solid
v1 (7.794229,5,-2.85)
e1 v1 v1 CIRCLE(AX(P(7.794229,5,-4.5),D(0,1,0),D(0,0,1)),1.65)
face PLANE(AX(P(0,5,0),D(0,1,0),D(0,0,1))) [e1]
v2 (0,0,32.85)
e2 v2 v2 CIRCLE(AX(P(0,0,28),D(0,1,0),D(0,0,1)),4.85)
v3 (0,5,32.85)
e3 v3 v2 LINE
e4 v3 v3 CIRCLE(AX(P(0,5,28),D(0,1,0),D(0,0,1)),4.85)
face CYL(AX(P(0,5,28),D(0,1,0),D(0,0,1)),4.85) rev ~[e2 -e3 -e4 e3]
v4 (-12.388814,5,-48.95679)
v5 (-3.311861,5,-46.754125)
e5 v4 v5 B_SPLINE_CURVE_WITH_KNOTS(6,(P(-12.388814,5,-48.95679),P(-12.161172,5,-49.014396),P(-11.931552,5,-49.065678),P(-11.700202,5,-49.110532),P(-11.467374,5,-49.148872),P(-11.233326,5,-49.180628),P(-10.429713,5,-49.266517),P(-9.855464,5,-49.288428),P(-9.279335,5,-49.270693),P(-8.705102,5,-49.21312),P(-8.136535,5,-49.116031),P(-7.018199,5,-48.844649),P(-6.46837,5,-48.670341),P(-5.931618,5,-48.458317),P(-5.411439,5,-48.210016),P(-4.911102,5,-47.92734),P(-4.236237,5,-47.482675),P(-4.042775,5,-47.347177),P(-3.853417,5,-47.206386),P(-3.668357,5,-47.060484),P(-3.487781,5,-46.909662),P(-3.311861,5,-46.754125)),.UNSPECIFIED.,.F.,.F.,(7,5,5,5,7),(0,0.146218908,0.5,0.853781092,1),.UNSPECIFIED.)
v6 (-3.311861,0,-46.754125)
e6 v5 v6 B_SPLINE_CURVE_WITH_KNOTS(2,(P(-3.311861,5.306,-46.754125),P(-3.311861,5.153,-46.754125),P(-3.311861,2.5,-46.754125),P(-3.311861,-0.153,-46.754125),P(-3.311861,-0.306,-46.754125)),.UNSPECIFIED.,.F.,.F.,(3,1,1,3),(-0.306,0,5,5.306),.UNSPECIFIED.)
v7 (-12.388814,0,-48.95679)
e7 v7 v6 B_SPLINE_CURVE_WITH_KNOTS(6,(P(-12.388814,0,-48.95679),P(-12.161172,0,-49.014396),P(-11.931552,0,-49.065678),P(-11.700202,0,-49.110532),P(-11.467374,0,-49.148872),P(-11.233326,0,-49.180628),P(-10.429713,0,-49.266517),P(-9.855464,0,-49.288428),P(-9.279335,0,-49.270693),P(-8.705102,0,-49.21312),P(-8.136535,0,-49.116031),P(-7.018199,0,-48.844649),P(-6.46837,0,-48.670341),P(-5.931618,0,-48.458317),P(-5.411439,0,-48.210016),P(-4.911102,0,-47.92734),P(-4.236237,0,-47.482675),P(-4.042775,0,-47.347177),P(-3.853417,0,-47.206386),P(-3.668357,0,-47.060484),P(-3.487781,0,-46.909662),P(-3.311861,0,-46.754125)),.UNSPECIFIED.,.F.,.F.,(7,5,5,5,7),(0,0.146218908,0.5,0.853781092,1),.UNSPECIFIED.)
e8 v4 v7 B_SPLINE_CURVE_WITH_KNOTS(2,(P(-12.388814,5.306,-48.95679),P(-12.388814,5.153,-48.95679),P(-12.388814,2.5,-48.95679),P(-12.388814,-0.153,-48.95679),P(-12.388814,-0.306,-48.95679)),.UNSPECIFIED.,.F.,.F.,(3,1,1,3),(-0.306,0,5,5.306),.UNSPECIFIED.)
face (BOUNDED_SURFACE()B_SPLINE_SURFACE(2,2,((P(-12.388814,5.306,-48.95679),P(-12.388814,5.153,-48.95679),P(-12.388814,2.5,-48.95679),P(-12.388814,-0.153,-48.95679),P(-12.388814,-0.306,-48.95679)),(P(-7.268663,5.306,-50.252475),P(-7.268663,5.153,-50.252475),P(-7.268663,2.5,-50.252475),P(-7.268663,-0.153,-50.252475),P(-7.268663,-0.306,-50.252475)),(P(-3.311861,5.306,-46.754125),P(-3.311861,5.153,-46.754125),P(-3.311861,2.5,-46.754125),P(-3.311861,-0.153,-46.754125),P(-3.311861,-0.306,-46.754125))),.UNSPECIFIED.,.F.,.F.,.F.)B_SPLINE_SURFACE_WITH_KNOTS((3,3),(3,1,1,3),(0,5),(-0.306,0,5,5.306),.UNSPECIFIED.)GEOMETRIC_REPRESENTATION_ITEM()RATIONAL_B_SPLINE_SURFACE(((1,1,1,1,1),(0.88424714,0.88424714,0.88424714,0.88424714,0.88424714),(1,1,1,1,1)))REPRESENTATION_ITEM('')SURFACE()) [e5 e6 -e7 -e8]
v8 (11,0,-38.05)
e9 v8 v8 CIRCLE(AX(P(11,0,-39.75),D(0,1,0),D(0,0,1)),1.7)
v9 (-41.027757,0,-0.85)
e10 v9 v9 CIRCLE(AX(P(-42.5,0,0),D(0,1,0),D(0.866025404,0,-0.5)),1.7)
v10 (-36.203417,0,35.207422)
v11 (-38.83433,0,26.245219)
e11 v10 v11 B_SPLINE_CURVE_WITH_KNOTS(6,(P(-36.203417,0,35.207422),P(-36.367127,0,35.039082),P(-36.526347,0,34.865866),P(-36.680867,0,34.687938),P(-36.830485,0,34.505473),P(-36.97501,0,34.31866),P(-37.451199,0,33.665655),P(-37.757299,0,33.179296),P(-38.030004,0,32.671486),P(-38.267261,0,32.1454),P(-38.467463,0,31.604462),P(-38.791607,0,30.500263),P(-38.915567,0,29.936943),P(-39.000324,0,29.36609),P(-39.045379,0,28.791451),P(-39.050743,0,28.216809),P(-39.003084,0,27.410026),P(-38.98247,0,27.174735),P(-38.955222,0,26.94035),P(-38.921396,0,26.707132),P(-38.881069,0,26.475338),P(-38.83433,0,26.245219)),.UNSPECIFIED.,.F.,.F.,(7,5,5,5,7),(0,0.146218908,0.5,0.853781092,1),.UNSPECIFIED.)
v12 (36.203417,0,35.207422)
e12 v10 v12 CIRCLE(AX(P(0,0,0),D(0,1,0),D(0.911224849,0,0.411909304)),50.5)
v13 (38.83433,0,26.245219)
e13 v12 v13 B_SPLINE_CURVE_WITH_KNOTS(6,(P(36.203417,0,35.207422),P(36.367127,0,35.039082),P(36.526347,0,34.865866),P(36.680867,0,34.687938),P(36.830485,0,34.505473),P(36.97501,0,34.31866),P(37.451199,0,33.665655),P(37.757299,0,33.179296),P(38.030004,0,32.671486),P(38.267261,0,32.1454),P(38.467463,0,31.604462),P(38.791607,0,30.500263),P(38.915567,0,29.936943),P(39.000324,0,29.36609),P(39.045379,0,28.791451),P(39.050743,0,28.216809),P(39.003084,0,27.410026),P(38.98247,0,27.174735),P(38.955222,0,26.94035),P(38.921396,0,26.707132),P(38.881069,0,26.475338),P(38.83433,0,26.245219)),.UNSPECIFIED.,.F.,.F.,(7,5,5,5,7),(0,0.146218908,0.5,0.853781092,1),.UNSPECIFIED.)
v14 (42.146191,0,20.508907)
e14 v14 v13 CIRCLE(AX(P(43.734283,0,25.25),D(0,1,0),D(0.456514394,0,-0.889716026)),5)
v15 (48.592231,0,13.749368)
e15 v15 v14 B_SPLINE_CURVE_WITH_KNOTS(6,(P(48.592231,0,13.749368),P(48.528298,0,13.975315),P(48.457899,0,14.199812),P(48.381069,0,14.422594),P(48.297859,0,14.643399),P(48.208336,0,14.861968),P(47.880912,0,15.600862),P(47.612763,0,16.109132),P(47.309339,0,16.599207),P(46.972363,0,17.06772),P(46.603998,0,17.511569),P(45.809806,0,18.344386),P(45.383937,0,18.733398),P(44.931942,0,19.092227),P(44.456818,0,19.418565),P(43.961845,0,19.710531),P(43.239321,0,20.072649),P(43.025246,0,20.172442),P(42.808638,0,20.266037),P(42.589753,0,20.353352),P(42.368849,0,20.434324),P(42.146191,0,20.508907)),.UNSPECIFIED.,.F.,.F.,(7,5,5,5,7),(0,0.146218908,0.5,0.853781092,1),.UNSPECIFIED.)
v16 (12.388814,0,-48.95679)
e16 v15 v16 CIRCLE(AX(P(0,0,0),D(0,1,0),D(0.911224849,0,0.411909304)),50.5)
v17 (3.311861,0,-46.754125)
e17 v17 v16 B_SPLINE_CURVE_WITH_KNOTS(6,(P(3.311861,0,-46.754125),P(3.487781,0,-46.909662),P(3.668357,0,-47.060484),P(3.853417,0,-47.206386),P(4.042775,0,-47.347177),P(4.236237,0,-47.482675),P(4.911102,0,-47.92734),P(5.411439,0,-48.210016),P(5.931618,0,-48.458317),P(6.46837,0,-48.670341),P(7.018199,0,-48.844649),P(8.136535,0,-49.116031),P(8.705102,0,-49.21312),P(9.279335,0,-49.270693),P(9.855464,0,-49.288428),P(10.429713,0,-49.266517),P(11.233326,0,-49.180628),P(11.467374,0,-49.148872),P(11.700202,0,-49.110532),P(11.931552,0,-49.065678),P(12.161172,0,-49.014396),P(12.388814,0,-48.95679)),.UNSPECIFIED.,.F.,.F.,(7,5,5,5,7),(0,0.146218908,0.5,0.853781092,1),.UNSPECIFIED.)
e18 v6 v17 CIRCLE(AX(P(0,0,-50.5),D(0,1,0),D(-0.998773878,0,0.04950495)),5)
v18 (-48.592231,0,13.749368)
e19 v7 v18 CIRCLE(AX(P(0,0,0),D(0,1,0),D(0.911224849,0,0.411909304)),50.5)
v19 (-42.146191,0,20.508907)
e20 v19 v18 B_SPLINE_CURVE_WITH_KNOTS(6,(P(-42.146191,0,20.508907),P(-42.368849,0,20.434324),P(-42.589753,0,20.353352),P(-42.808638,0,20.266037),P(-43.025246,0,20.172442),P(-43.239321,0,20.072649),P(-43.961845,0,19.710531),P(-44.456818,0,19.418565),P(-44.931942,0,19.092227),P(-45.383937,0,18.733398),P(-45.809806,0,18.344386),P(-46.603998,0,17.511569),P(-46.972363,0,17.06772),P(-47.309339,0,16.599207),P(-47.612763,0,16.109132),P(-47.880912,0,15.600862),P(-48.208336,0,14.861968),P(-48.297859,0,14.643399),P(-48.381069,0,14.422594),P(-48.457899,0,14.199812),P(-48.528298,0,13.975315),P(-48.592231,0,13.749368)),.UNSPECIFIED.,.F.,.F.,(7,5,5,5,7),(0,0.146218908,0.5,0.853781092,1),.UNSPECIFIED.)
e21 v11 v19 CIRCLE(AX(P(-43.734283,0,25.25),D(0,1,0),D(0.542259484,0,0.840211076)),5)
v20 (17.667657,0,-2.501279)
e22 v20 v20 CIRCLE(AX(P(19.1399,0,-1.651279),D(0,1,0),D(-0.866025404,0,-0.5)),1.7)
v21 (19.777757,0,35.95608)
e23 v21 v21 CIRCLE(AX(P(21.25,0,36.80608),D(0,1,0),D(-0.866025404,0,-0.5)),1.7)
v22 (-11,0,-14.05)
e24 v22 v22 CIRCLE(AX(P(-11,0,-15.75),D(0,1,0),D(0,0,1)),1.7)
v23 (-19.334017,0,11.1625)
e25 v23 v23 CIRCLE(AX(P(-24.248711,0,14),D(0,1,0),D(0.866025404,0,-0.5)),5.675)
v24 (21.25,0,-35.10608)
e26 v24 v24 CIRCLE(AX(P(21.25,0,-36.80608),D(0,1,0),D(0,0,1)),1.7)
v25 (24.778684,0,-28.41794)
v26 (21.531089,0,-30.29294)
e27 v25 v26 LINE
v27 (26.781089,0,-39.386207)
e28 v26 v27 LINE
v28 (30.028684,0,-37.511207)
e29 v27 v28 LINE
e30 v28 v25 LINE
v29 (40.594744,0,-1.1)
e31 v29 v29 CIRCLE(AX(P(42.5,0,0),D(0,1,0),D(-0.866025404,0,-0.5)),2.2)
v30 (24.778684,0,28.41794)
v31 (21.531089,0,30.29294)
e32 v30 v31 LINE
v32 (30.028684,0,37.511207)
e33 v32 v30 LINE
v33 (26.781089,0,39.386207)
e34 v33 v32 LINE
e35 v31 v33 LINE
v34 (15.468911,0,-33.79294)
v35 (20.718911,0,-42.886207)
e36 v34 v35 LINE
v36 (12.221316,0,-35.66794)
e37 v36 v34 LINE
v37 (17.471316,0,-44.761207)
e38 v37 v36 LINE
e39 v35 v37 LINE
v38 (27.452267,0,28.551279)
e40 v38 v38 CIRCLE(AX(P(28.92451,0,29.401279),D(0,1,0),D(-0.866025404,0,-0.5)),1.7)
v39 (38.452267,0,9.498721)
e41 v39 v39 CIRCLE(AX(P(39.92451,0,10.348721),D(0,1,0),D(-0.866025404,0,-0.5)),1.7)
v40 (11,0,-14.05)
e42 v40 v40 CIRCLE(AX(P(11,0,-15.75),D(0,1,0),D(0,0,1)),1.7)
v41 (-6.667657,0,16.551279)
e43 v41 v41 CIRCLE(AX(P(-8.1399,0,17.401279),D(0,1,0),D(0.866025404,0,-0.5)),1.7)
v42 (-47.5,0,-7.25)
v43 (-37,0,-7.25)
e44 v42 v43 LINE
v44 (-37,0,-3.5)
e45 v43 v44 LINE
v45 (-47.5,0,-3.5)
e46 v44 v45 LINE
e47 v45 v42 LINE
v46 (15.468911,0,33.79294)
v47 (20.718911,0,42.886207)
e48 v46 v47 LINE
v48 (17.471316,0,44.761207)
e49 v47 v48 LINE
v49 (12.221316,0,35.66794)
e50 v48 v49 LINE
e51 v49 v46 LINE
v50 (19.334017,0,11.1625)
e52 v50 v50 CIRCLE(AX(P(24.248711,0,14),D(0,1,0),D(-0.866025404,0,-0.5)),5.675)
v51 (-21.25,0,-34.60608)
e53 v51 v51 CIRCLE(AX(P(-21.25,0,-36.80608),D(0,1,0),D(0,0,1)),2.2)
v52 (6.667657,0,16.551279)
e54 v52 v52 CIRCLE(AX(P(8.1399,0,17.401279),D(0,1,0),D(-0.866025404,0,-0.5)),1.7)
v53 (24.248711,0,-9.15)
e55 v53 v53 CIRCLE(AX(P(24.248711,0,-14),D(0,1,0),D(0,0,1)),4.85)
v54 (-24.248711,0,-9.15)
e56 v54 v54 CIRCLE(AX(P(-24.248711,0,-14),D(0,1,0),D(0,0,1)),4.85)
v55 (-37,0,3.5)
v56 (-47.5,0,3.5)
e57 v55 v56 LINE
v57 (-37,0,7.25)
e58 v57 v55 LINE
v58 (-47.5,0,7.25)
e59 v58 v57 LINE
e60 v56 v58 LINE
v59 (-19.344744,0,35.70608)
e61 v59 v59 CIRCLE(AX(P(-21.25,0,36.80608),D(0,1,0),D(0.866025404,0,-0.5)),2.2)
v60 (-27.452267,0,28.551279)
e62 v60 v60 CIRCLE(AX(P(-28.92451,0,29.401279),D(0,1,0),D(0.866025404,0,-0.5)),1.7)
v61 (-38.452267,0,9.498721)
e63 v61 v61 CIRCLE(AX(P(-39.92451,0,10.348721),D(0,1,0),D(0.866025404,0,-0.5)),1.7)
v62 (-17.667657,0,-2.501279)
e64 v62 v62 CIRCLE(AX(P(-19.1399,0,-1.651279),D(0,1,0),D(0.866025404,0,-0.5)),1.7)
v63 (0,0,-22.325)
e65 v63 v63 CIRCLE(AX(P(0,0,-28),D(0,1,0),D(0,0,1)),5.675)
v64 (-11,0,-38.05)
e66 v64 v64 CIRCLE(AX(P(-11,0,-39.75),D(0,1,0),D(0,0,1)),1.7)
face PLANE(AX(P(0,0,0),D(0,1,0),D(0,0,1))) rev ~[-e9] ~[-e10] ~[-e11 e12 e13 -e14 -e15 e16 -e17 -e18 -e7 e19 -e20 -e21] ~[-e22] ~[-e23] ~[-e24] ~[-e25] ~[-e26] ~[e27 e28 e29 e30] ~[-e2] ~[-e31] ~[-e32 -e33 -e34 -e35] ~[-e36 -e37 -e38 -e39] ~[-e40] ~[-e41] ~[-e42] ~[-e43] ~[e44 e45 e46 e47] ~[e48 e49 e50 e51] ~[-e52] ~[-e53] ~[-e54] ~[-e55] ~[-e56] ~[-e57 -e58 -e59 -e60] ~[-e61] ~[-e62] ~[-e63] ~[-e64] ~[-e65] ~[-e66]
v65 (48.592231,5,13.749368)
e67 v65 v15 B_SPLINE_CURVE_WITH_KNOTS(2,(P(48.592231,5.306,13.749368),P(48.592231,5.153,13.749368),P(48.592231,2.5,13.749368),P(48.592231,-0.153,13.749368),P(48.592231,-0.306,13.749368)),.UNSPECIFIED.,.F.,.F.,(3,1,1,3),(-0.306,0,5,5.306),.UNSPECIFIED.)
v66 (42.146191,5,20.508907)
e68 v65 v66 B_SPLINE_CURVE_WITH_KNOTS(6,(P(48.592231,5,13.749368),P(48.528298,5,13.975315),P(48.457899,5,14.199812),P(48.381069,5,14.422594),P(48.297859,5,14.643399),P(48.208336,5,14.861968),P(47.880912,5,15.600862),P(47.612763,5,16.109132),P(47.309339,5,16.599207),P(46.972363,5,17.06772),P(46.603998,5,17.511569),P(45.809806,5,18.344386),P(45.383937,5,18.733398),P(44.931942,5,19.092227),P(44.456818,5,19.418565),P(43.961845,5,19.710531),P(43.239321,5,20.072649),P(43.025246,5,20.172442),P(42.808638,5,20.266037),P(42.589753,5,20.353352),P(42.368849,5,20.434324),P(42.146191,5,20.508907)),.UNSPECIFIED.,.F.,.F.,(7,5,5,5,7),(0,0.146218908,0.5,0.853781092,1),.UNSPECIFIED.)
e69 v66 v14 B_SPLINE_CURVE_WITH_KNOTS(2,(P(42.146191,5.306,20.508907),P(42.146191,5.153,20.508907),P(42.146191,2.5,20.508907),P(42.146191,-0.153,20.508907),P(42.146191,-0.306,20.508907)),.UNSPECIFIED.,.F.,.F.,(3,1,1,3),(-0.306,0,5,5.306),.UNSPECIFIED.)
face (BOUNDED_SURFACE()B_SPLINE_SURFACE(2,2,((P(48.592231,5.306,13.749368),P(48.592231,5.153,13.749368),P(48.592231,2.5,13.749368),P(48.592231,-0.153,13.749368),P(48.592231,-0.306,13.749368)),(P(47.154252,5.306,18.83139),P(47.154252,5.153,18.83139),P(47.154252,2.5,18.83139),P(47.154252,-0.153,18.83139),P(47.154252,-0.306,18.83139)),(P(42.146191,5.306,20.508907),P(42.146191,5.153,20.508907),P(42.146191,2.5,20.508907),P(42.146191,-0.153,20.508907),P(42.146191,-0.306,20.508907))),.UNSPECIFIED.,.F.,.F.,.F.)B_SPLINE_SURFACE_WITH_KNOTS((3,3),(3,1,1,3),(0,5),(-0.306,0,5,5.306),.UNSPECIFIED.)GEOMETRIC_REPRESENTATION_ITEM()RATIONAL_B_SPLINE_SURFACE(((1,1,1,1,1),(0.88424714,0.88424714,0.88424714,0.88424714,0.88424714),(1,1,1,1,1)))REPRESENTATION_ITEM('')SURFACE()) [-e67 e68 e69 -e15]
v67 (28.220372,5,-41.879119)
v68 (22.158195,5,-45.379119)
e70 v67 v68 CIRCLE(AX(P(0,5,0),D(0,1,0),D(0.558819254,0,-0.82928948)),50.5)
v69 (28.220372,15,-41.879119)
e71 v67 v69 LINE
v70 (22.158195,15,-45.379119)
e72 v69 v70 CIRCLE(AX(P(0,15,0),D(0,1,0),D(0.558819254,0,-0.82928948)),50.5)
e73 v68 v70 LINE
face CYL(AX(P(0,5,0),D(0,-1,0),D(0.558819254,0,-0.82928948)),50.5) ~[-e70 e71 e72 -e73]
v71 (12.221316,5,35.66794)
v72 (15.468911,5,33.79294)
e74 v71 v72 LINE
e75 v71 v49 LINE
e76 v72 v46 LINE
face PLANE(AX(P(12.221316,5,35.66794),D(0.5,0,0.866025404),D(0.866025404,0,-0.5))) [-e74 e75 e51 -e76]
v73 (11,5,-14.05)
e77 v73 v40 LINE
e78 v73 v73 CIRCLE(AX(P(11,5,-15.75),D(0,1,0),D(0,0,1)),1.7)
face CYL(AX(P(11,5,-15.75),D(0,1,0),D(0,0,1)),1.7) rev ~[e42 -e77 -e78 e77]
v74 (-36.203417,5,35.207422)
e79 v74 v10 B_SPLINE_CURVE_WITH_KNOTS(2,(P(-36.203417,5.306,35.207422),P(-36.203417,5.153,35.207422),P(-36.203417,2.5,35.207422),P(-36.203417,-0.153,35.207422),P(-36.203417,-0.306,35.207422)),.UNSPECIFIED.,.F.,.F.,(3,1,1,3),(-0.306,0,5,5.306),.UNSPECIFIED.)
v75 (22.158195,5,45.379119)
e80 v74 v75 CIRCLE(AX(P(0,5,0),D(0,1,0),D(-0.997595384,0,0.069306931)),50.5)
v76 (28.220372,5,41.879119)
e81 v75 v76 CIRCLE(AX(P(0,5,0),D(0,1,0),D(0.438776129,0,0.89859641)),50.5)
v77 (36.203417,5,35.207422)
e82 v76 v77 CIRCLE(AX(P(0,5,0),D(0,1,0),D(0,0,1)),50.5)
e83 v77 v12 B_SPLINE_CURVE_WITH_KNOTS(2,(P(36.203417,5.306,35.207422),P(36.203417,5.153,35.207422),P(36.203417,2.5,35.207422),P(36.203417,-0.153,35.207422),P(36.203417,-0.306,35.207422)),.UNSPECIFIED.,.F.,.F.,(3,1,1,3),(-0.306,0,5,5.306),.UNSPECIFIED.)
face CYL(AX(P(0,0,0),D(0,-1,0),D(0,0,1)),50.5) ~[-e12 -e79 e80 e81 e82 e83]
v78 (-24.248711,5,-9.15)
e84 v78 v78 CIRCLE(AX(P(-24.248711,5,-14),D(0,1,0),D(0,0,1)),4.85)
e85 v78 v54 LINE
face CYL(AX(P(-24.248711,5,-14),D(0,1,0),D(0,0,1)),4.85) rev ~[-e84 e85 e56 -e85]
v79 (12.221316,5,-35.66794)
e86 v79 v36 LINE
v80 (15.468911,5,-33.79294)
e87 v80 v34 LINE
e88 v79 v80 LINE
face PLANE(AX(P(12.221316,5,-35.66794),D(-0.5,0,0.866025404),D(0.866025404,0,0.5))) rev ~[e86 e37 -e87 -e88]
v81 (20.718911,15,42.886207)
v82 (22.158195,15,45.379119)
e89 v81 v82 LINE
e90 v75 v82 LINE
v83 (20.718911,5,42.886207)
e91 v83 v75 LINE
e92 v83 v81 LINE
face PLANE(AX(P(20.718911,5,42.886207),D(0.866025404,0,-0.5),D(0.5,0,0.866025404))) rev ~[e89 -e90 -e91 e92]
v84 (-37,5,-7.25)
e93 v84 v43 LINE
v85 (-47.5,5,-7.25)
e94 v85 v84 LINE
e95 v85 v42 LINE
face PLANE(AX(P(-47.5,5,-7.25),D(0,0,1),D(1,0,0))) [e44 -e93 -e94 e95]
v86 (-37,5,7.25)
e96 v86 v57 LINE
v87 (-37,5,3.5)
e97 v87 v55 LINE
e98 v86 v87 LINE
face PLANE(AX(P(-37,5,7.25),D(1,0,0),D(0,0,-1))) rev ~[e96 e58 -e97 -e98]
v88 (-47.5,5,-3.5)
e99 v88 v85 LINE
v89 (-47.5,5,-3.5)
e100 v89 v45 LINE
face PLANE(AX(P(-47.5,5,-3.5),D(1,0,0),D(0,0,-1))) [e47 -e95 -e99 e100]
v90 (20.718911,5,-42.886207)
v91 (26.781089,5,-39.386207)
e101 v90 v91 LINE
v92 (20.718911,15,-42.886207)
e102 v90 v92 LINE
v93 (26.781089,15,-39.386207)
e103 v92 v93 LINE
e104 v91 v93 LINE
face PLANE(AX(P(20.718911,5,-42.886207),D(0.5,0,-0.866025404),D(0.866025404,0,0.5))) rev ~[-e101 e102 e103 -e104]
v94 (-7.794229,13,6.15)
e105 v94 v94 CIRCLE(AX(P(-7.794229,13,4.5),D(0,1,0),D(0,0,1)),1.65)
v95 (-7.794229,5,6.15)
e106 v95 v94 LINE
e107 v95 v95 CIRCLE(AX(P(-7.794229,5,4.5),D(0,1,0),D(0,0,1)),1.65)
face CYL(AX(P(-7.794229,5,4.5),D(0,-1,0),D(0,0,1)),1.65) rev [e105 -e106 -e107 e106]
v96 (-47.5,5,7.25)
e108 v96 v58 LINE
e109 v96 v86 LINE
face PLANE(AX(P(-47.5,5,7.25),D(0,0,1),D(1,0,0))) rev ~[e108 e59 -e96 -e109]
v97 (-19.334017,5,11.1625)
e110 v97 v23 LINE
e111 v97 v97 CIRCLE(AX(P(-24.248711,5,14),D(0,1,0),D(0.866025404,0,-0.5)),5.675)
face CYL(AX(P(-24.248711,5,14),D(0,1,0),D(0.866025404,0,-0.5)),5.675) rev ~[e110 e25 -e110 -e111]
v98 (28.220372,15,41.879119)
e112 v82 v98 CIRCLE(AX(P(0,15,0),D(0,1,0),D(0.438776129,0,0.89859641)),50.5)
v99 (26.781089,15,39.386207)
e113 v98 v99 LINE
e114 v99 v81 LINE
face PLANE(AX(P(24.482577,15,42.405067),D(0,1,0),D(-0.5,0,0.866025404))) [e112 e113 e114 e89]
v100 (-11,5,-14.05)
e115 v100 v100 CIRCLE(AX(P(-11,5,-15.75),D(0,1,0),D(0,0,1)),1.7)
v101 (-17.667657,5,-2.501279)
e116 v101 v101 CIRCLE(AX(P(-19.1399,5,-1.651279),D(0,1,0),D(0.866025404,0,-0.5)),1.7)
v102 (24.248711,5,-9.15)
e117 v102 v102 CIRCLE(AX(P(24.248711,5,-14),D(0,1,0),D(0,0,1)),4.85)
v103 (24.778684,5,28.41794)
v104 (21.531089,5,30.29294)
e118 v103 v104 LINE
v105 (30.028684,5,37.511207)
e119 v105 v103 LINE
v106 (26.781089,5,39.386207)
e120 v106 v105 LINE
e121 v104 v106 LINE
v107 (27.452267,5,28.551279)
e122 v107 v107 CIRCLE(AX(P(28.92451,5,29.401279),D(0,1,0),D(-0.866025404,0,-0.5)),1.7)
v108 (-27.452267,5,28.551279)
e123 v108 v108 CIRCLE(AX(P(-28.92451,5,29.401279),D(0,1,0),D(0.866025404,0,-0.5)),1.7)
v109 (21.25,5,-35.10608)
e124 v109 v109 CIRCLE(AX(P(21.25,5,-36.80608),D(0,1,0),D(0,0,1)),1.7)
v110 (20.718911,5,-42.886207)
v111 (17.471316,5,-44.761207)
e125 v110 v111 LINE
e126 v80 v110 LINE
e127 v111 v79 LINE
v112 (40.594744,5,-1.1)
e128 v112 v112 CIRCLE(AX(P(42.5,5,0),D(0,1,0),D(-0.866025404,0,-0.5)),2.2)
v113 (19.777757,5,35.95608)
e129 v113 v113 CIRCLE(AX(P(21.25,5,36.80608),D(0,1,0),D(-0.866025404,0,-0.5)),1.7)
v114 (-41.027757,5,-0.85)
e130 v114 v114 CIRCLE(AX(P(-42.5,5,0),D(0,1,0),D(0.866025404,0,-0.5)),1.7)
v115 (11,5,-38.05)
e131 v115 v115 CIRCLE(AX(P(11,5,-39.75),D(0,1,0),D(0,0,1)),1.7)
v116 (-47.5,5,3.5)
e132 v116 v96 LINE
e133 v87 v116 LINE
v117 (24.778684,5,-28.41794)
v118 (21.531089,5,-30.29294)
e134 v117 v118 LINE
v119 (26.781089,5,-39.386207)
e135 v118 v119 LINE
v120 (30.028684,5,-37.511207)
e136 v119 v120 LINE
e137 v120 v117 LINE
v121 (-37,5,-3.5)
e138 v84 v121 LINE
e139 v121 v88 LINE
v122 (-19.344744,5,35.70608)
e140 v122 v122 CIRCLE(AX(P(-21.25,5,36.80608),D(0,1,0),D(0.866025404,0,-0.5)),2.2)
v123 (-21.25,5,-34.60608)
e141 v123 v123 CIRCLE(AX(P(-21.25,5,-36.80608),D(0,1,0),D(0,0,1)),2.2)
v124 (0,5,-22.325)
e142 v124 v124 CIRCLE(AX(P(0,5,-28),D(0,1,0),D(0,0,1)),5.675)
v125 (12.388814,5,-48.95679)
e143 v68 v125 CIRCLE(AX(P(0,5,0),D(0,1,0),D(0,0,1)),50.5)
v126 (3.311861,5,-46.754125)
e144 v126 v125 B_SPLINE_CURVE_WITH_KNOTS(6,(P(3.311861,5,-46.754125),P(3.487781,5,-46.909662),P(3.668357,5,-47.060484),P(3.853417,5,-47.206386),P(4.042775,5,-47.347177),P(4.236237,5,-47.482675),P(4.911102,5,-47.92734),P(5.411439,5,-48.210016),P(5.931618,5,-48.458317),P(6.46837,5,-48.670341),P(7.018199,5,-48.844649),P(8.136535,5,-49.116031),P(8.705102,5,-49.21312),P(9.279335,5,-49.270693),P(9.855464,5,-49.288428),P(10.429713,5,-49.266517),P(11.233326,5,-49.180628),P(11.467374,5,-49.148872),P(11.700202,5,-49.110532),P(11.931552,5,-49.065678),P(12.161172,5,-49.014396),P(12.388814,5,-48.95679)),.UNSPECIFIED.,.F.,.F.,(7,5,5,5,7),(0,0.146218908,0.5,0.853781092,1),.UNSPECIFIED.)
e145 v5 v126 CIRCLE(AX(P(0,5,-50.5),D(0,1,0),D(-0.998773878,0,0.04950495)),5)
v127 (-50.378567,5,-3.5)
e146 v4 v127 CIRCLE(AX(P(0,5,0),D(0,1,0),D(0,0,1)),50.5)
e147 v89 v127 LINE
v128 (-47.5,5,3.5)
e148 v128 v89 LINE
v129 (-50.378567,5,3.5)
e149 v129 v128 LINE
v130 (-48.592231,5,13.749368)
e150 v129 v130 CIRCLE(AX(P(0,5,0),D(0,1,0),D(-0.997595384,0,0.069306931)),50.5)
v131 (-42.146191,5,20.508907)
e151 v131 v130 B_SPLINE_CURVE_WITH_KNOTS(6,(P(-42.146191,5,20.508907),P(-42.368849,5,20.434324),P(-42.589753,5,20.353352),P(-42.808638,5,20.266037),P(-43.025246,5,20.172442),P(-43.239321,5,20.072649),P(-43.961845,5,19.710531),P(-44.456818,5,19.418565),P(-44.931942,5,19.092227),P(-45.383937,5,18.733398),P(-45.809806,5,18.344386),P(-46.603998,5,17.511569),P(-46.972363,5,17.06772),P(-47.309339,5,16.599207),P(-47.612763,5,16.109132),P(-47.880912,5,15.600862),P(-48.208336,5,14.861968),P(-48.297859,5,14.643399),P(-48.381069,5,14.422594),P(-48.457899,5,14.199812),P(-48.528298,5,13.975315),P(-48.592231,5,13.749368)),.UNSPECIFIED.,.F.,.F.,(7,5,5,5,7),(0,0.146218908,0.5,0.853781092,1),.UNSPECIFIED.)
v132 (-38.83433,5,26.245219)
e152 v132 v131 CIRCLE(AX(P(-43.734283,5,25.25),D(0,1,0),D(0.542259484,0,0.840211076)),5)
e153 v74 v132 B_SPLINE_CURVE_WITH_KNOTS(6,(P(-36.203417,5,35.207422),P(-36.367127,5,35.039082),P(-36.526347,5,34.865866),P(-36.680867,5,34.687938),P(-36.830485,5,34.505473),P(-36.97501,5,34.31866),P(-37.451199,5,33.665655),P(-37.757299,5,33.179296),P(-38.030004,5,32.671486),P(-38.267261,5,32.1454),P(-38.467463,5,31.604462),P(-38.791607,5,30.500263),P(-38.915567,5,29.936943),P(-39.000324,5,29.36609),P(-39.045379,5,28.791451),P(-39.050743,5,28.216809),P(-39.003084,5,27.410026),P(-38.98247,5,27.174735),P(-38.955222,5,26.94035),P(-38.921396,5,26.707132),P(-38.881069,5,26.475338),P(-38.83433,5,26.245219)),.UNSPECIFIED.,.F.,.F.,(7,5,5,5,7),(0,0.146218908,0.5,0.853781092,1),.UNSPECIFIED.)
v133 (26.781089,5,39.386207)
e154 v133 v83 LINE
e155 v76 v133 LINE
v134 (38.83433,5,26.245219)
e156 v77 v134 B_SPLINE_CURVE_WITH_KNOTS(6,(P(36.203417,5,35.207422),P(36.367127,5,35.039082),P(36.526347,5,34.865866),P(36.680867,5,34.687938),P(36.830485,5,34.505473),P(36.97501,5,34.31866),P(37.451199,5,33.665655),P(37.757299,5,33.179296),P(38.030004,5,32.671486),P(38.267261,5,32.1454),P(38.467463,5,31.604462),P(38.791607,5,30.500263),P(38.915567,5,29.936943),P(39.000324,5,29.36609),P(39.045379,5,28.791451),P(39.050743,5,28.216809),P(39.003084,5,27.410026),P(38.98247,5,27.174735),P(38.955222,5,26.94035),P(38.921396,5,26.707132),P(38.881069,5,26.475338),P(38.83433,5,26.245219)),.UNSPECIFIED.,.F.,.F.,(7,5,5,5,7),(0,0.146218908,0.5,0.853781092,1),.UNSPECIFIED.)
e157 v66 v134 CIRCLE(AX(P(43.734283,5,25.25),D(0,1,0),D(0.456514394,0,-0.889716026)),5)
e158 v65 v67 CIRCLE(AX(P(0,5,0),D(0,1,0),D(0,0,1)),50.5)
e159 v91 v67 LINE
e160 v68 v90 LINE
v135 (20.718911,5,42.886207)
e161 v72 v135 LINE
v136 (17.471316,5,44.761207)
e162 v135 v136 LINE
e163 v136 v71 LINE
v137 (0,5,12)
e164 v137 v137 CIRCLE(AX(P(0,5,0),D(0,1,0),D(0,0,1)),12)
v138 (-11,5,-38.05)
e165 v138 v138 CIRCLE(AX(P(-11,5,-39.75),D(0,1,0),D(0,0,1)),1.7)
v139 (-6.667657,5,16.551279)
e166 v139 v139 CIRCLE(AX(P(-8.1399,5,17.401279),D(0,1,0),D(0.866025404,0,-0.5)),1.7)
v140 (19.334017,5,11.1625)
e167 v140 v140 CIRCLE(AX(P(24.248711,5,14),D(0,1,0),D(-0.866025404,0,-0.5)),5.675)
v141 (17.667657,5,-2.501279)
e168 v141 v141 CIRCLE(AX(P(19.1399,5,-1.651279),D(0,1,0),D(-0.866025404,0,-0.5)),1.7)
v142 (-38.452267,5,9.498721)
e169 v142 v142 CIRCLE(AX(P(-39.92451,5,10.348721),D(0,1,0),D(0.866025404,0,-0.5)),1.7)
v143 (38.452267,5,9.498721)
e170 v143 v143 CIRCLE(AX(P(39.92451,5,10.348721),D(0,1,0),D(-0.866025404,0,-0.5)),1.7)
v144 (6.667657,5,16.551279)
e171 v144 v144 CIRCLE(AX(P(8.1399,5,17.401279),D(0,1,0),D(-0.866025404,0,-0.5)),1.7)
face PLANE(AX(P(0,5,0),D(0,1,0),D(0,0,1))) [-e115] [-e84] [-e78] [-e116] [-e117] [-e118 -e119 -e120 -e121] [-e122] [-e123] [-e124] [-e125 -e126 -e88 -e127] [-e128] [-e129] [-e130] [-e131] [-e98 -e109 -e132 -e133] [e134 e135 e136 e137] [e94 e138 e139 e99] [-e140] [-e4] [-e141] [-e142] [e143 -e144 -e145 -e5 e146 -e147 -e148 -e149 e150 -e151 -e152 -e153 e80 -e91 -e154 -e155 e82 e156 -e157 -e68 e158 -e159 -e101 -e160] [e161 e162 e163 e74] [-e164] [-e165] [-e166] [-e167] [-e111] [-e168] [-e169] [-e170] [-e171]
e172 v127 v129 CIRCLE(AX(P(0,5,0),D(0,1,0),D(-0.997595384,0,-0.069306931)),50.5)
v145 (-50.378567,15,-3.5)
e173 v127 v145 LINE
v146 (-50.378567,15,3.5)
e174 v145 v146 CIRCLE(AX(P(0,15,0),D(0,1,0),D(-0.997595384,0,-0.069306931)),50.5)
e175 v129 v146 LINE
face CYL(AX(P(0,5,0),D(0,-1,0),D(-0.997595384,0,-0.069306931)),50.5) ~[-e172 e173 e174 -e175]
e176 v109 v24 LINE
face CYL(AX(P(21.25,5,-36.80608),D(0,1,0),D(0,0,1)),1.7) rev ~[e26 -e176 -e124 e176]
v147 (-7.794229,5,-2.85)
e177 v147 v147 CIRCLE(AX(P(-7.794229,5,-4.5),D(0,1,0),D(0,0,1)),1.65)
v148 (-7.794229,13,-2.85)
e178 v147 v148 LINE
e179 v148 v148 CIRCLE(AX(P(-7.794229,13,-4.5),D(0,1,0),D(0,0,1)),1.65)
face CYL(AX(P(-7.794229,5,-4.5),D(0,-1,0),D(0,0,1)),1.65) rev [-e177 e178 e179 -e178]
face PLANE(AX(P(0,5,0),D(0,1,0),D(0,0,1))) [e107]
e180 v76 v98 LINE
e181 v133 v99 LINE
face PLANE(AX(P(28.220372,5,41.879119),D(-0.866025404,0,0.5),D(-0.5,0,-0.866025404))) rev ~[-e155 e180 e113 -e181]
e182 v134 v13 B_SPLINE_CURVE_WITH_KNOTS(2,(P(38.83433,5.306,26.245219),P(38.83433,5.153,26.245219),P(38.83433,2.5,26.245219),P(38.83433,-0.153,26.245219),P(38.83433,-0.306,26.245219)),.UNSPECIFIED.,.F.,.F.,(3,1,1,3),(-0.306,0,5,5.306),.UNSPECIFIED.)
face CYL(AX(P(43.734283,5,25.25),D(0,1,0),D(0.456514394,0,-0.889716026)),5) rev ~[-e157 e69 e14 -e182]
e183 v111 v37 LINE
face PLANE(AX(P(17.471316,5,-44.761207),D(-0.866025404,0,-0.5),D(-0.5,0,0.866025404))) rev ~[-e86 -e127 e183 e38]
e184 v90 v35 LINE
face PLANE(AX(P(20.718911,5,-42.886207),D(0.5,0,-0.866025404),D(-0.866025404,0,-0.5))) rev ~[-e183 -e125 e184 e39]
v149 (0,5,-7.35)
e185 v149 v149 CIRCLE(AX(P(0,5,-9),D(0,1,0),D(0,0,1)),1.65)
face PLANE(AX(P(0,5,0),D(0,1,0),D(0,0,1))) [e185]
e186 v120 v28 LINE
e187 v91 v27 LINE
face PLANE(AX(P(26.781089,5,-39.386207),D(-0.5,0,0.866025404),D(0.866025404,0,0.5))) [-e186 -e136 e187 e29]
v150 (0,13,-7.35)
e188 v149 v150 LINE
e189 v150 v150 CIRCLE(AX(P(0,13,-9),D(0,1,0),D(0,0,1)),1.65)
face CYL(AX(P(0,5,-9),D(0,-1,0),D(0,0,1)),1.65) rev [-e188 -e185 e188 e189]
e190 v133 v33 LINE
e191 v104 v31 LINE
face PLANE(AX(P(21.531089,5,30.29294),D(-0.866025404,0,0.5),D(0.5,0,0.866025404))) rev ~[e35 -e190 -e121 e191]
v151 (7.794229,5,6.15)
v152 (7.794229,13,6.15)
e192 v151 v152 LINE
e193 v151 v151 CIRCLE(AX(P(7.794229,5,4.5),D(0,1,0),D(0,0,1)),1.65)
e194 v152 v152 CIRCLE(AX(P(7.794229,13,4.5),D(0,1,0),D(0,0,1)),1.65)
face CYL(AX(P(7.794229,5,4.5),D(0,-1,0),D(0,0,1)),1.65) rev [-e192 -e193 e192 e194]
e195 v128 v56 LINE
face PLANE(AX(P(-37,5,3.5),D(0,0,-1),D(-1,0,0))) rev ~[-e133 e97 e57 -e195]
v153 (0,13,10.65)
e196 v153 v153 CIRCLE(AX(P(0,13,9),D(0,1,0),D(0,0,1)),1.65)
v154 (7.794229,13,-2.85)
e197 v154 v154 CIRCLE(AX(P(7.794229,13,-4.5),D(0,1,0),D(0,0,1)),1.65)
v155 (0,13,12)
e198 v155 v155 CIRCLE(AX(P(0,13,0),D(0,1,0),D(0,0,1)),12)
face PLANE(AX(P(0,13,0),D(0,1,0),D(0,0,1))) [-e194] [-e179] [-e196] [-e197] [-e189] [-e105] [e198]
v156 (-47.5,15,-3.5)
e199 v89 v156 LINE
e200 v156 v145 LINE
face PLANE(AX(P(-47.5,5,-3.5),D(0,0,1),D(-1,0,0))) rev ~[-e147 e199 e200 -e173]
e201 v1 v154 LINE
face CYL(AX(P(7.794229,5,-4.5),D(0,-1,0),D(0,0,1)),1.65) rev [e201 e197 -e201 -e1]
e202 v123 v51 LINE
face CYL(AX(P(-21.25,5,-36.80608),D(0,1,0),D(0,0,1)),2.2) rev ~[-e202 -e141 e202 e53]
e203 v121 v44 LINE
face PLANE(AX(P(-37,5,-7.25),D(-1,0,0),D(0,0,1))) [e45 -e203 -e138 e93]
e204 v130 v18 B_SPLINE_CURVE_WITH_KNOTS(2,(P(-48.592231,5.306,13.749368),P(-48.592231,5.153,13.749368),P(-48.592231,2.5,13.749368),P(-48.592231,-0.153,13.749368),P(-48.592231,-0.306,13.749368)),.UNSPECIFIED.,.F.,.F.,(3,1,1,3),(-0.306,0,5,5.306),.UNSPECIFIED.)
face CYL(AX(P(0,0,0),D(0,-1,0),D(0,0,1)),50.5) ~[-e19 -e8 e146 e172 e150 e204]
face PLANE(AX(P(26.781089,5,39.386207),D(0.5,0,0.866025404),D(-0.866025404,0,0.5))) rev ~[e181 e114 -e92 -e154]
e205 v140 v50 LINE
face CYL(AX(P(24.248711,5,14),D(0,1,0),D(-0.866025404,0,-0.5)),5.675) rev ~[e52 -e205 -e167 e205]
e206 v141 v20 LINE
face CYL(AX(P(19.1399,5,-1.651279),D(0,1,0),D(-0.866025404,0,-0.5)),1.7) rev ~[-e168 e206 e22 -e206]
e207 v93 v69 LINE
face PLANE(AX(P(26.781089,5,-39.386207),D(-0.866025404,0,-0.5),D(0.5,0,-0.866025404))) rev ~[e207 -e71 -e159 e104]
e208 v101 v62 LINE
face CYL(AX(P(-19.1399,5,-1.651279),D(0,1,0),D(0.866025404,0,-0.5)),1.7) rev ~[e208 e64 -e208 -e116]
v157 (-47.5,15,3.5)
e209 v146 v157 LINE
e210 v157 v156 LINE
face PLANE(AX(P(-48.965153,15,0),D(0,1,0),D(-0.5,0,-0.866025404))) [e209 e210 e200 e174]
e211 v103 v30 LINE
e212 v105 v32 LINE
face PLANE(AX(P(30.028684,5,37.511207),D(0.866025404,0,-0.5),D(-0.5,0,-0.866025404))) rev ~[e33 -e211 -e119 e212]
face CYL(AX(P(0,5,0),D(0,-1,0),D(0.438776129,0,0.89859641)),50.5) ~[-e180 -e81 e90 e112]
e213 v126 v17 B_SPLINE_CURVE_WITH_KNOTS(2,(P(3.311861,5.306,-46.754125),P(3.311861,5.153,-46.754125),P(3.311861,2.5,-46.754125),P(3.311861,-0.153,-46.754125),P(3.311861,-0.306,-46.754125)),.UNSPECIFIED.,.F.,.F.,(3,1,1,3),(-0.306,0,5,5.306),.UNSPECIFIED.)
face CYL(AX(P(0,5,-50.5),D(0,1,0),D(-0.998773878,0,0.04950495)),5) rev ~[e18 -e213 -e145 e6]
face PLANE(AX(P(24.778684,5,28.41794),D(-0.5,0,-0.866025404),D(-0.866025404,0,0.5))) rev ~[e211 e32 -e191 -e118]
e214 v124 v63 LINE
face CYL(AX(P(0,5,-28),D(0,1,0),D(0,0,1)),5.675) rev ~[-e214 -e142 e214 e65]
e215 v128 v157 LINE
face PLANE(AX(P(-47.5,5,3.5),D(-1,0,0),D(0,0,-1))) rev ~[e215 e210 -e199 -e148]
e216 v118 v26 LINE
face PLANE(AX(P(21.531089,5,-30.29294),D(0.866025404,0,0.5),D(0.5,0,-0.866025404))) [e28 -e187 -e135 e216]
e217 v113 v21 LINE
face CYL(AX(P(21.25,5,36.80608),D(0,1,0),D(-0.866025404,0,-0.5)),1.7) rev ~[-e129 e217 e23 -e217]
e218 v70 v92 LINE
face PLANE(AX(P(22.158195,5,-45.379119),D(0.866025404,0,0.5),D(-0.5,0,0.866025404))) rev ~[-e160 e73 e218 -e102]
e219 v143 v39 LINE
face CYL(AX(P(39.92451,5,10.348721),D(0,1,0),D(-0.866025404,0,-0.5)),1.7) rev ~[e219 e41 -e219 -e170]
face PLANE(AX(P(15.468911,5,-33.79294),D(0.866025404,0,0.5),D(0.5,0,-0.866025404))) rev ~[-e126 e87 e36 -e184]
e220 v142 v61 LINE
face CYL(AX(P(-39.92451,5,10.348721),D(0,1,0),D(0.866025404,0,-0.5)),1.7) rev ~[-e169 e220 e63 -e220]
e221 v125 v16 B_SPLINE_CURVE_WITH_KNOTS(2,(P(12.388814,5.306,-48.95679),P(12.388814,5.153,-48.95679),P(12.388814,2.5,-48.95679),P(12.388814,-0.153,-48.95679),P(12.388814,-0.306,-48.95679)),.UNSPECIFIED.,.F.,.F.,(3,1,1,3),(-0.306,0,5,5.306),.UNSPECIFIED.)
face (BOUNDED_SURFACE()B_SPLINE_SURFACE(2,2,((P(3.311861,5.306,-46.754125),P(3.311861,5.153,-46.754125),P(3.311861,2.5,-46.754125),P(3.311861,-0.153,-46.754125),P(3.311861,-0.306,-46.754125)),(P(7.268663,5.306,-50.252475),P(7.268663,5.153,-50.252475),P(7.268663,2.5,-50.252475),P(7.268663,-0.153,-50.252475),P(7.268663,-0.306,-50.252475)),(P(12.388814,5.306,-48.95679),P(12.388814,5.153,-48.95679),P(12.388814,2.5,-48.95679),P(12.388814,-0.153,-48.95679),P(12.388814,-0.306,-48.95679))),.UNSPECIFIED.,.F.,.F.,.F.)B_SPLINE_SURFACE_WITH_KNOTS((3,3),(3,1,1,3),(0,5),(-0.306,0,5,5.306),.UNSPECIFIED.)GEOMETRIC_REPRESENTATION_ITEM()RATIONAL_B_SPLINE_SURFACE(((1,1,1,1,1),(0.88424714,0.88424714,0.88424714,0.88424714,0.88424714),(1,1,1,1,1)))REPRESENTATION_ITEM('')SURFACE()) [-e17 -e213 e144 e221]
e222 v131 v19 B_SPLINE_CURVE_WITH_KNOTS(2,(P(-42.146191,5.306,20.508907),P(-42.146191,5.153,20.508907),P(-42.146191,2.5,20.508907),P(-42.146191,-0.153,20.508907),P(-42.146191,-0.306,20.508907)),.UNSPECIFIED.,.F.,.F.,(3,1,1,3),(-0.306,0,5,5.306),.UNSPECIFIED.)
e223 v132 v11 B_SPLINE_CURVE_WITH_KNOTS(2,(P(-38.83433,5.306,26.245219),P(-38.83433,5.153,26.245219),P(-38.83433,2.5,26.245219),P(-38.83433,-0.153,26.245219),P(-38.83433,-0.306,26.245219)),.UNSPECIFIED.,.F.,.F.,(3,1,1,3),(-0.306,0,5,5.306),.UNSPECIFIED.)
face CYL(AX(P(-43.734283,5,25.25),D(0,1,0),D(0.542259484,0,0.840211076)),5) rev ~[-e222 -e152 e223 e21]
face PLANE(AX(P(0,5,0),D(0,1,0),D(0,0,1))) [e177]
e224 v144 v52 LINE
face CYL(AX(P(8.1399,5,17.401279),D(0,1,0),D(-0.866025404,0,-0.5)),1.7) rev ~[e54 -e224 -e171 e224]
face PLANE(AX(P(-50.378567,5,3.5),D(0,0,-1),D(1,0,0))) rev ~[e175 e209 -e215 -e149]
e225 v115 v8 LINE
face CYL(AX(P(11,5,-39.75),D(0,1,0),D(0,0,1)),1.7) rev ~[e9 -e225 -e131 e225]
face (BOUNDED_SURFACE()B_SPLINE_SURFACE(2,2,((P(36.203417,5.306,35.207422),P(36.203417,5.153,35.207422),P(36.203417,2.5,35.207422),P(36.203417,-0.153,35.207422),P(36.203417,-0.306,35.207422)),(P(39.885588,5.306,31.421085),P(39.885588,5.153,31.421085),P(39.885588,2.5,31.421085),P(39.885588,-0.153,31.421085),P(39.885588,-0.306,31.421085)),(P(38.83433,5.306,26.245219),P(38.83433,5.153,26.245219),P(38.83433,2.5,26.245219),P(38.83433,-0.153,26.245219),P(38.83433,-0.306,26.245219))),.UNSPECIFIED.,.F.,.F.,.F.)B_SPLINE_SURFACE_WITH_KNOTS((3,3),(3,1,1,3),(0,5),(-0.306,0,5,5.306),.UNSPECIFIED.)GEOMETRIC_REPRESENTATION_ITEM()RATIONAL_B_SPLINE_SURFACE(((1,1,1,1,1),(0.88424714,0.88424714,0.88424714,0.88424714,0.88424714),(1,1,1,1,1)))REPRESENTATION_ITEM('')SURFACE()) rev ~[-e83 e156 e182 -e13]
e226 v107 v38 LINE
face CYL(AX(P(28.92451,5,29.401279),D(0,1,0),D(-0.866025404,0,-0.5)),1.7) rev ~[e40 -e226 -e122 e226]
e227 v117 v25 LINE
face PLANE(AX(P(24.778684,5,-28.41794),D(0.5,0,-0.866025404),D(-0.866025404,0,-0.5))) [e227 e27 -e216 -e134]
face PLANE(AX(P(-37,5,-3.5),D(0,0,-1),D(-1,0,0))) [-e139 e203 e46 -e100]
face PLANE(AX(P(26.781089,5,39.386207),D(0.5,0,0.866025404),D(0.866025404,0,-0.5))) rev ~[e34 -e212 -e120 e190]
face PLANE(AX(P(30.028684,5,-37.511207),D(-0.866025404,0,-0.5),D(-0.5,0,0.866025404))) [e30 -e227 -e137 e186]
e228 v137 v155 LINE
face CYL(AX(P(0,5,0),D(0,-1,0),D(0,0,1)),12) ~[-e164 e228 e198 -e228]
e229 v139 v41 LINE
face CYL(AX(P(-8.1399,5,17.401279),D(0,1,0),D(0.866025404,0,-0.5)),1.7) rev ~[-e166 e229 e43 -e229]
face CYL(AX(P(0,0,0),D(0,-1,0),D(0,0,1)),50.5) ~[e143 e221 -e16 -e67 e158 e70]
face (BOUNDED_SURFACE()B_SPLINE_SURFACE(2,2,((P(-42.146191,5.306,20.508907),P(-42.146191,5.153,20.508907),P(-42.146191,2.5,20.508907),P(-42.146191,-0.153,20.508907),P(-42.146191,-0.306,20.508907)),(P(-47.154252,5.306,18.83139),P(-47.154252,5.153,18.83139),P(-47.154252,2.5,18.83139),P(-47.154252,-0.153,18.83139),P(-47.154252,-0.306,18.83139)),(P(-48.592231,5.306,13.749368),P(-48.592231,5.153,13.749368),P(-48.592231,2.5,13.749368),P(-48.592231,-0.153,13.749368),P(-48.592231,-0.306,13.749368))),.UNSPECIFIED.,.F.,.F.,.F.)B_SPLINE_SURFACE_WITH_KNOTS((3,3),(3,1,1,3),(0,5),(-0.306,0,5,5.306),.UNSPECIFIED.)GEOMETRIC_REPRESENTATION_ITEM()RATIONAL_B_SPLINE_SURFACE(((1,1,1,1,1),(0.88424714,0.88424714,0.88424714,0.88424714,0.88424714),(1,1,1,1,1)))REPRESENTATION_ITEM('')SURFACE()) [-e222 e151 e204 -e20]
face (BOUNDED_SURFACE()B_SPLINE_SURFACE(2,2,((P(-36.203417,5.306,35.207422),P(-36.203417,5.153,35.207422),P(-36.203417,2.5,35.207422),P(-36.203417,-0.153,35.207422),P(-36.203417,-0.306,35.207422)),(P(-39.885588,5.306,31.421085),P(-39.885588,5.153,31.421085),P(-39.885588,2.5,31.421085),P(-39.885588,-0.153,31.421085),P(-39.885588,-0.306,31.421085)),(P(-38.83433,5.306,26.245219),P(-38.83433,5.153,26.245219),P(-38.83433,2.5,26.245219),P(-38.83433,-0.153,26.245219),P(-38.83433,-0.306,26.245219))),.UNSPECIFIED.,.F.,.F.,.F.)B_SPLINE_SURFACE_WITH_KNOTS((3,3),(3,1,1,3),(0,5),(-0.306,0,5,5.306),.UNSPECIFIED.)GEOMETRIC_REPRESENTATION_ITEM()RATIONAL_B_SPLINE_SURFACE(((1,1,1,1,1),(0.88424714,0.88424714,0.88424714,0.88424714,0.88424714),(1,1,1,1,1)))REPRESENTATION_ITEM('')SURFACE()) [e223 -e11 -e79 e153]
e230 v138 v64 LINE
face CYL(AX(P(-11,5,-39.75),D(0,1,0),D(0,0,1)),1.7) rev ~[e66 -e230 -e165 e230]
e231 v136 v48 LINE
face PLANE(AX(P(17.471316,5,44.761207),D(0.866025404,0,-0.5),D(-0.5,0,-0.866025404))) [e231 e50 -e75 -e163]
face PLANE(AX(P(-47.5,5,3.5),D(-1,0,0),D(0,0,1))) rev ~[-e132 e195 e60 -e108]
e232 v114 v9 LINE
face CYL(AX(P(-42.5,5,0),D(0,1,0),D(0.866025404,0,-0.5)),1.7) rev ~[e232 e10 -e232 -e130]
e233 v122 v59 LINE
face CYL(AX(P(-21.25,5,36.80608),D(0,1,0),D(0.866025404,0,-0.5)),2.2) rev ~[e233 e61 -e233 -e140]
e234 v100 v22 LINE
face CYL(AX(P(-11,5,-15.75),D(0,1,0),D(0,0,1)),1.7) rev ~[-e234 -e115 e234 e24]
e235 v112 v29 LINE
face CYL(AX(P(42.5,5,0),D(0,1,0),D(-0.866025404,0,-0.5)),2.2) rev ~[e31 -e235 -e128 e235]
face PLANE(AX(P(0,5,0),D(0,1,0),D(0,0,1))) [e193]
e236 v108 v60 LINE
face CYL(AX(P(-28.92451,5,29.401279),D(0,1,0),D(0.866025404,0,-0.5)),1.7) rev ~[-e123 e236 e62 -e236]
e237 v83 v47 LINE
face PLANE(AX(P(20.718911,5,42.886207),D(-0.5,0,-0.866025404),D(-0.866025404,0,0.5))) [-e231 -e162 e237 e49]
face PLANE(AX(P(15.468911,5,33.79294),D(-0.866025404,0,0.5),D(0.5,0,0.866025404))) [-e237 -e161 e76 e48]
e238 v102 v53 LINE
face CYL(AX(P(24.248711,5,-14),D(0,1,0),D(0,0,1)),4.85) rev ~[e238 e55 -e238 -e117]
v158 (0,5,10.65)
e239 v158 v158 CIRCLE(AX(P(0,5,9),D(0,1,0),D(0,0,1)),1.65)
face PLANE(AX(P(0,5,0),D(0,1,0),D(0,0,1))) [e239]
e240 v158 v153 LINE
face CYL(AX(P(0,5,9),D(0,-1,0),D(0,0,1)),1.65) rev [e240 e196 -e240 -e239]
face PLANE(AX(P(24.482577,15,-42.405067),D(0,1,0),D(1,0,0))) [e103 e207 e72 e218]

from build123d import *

# Parameters (mm, degrees)
SKETCH1_R                = 50.5
BOSS_EXTRUDE1_DEPTH      = 5
SKETCH3_R                = 12
SKETCH3_R_2              = 1.65
BOSS_EXTRUDE2_DEPTH      = 8
CUT_EXTRUDE6_REACH       = 73.864
SKETCH9_R                = 5.675
SKETCH9_R_2              = 1.7
CIRPATTERN1_COUNT        = 3
SKETCH10_R               = 4.85
CUT_EXTRUDE7_DEPTH       = 72.864455748
SKETCH11_R               = 1.7
CUT_EXTRUDE8_DEPTH       = 72.864455748
CUT_EXTRUDE9_REACH       = 73.864
SKETCH13_R               = 2.2
CIRPATTERN2_COUNT        = 3
CUT_EXTRUDE11_DEPTH      = 72.864455748
BOSS_EXTRUDE3_DEPTH      = 10
CIRPATTERN3_COUNT        = 3
CUT_EXTRUDE12_DEPTH      = 73.114492302
FILLET1_R                = 10
CIRPATTERN4_COUNT        = 3
FILLET1_OF_CIRPATTERN4_R = 10


with BuildPart() as part:
    # Sketch1 → Boss-Extrude1 (new body)
    with BuildSketch(Plane(origin=(0, 0, 0), x_dir=(1, 0, 0), z_dir=(0, 1, 0))):
        Circle(SKETCH1_R)
    extrude(amount=BOSS_EXTRUDE1_DEPTH)

    # Sketch3 → Boss-Extrude2 (add)
    with BuildSketch(Plane(origin=(0, 5, 0), x_dir=(1, 0, 0), z_dir=(0, 1, 0))):
        Circle(SKETCH3_R)
        with Locations((0, 9)):
            Circle(SKETCH3_R_2, mode=Mode.SUBTRACT)
        with Locations((7.794228634, 4.5)):
            Circle(SKETCH3_R_2, mode=Mode.SUBTRACT)
        with Locations((7.794228634, -4.5)):
            Circle(SKETCH3_R_2, mode=Mode.SUBTRACT)
        with Locations((0, -9)):
            Circle(SKETCH3_R_2, mode=Mode.SUBTRACT)
        with Locations((-7.794228634, -4.5)):
            Circle(SKETCH3_R_2, mode=Mode.SUBTRACT)
        with Locations((-7.794228634, 4.5)):
            Circle(SKETCH3_R_2, mode=Mode.SUBTRACT)
    extrude(amount=BOSS_EXTRUDE2_DEPTH)

    # Sketch9 → Cut-Extrude6 (cut, up to next)
    with BuildSketch(Plane(origin=(0, 5, 0), x_dir=(1, 0, 0), z_dir=(0, 1, 0)), mode=Mode.PRIVATE) as cut_extrude6_sk1:
        with Locations((0, 28)):
            Circle(SKETCH9_R)
    cut_extrude6_tool1 = extrude(cut_extrude6_sk1.sketch, amount=-CUT_EXTRUDE6_REACH, mode=Mode.PRIVATE) & part.part
    # Sketch9 → Cut-Extrude6 (cut, up to next)
    with BuildSketch(Plane(origin=(0, 5, 0), x_dir=(1, 0, 0), z_dir=(0, 1, 0)), mode=Mode.PRIVATE) as cut_extrude6_sk2:
        with Locations((11, 15.75)):
            Circle(SKETCH9_R_2)
    cut_extrude6_tool2 = extrude(cut_extrude6_sk2.sketch, amount=-CUT_EXTRUDE6_REACH, mode=Mode.PRIVATE) & part.part
    # Sketch9 → Cut-Extrude6 (cut, up to next)
    with BuildSketch(Plane(origin=(0, 5, 0), x_dir=(1, 0, 0), z_dir=(0, 1, 0)), mode=Mode.PRIVATE) as cut_extrude6_sk3:
        with Locations((-11, 15.75)):
            Circle(SKETCH9_R_2)
    cut_extrude6_tool3 = extrude(cut_extrude6_sk3.sketch, amount=-CUT_EXTRUDE6_REACH, mode=Mode.PRIVATE) & part.part
    # Sketch9 → Cut-Extrude6 (cut, up to next)
    with BuildSketch(Plane(origin=(0, 5, 0), x_dir=(1, 0, 0), z_dir=(0, 1, 0)), mode=Mode.PRIVATE) as cut_extrude6_sk4:
        with Locations((11, 39.75)):
            Circle(SKETCH9_R_2)
    cut_extrude6_tool4 = extrude(cut_extrude6_sk4.sketch, amount=-CUT_EXTRUDE6_REACH, mode=Mode.PRIVATE) & part.part
    # Sketch9 → Cut-Extrude6 (cut, up to next)
    with BuildSketch(Plane(origin=(0, 5, 0), x_dir=(1, 0, 0), z_dir=(0, 1, 0)), mode=Mode.PRIVATE) as cut_extrude6_sk5:
        with Locations((-11, 39.75)):
            Circle(SKETCH9_R_2)
    cut_extrude6_tool5 = extrude(cut_extrude6_sk5.sketch, amount=-CUT_EXTRUDE6_REACH, mode=Mode.PRIVATE) & part.part
    cut_extrude6_1 = cut_extrude6_tool1.solids().sort_by_distance((0, 5, -28))[0]
    add(cut_extrude6_1, mode=Mode.SUBTRACT)
    cut_extrude6_2 = cut_extrude6_tool2.solids().sort_by_distance((11, 5, -15.75))[0]
    add(cut_extrude6_2, mode=Mode.SUBTRACT)
    cut_extrude6_3 = cut_extrude6_tool3.solids().sort_by_distance((-11, 5, -15.75))[0]
    add(cut_extrude6_3, mode=Mode.SUBTRACT)
    cut_extrude6_4 = cut_extrude6_tool4.solids().sort_by_distance((11, 5, -39.75))[0]
    add(cut_extrude6_4, mode=Mode.SUBTRACT)
    cut_extrude6_5 = cut_extrude6_tool5.solids().sort_by_distance((-11, 5, -39.75))[0]
    add(cut_extrude6_5, mode=Mode.SUBTRACT)
    cut_extrude6 = cut_extrude6_1 + cut_extrude6_2 + cut_extrude6_3 + cut_extrude6_4 + cut_extrude6_5  # Cut-Extrude6 as one shape, for the pattern or mirror that repeats it

    # CirPattern1: Cut-Extrude6 ×3 about axis
    cirpattern1_axis = Axis((0, 15.75, 0), (0, -1, 0))
    for i in range(1, CIRPATTERN1_COUNT):
        add(cut_extrude6.rotate(cirpattern1_axis, i * 360 / CIRPATTERN1_COUNT), mode=Mode.SUBTRACT)

    # Sketch10 → Cut-Extrude7 (cut, through all)
    with BuildSketch(Plane(origin=(0, 5, 0), x_dir=(1, 0, 0), z_dir=(0, 1, 0))):
        with Locations((-24.248711306, 14)):
            Circle(SKETCH10_R)
        with Locations((24.248711306, 14)):
            Circle(SKETCH10_R)
        with Locations((0, -28)):
            Circle(SKETCH10_R)
    extrude(amount=-CUT_EXTRUDE7_DEPTH, mode=Mode.SUBTRACT)

    # Sketch11 → Cut-Extrude8 (cut, through all)
    with BuildSketch(Plane(origin=(0, 5, 0), x_dir=(1, 0, 0), z_dir=(0, 1, 0))):
        with Locations((21.25, 36.806079661)):
            Circle(SKETCH11_R)
    cut_extrude8 = extrude(amount=-CUT_EXTRUDE8_DEPTH, mode=Mode.SUBTRACT)

    # Sketch13 → Cut-Extrude9 (cut, up to next)
    with BuildSketch(Plane(origin=(0, 5, 0), x_dir=(1, 0, 0), z_dir=(0, 1, 0)), mode=Mode.PRIVATE) as cut_extrude9_sk1:
        with Locations((-21.25, 36.806079661)):
            Circle(SKETCH13_R)
    cut_extrude9_tool1 = extrude(cut_extrude9_sk1.sketch, amount=-CUT_EXTRUDE9_REACH, mode=Mode.PRIVATE) & part.part
    cut_extrude9 = cut_extrude9_tool1.solids().sort_by_distance((-21.25, 5, -36.80608))[0]
    add(cut_extrude9, mode=Mode.SUBTRACT)

    # CirPattern2: Cut-Extrude8, Cut-Extrude9 ×3 about axis
    cirpattern2_axis = Axis((0, 15.75, 0), (0, -1, 0))
    add([cut_extrude8.rotate(cirpattern2_axis, i * 360 / CIRPATTERN2_COUNT) for i in range(1, CIRPATTERN2_COUNT)], mode=Mode.SUBTRACT)
    add([cut_extrude9.rotate(cirpattern2_axis, i * 360 / CIRPATTERN2_COUNT) for i in range(1, CIRPATTERN2_COUNT)], mode=Mode.SUBTRACT)

    # Sketch15 → Cut-Extrude11 (cut, through all)
    with BuildSketch(Plane(origin=(0, 5, 0), x_dir=(1, 0, 0), z_dir=(0, 1, 0))):
        Polygon((20.718911087, 42.88620668), (17.471315823, 44.76120668), (12.221315823, 35.66793994), (15.468911087, 33.79293994), align=None)
        Polygon((26.781088913, 39.38620668), (30.028684177, 37.51120668), (24.778684177, 28.41793994), (21.531088913, 30.29293994), align=None)
    cut_extrude11 = extrude(amount=-CUT_EXTRUDE11_DEPTH, mode=Mode.SUBTRACT)

    # Sketch17 → Boss-Extrude3 (add)
    with BuildSketch(Plane(origin=(0, 5, 0), x_dir=(1, 0, 0), z_dir=(0, 1, 0))):
        with BuildLine():
            Line((20.718911087, 42.88620668), (26.781088913, 39.38620668))
            Line((26.781088913, 39.38620668), (28.220372349, 41.879118717))
            ThreePointArc((28.220372349, 41.879118717), (25.25, 43.734282891), (22.158194522, 45.379118717))
            Line((22.158194522, 45.379118717), (20.718911087, 42.88620668))
        make_face()
    boss_extrude3 = extrude(amount=BOSS_EXTRUDE3_DEPTH)

    # CirPattern3: Cut-Extrude11, Boss-Extrude3 ×3 about axis
    cirpattern3_axis = Axis((0, 15.75, 0), (0, -1, 0))
    add([cut_extrude11.rotate(cirpattern3_axis, i * 360 / CIRPATTERN3_COUNT) for i in range(1, CIRPATTERN3_COUNT)], mode=Mode.SUBTRACT)
    add([boss_extrude3.rotate(cirpattern3_axis, i * 360 / CIRPATTERN3_COUNT) for i in range(1, CIRPATTERN3_COUNT)])

    # Sketch18 → Cut-Extrude12 (cut, through all)
    with BuildSketch(Plane(origin=(0, 5, 0), x_dir=(1, 0, 0), z_dir=(0, 1, 0))):
        with BuildLine():
            ThreePointArc((41.022985472, -29.45105538), (43.734282891, -25.25), (46.016854863, -20.801419868))
            ThreePointArc((46.016854863, -20.801419868), (39.404155872, -22.75), (41.022985472, -29.45105538))
        make_face()
    cut_extrude12 = extrude(amount=-CUT_EXTRUDE12_DEPTH, mode=Mode.SUBTRACT)

    # Fillet1
    fillet1_edges = [part.edges().sort_by_distance(p)[0] for p in [
        (46.016854863, 2.5, 20.801419868),
        (41.022985472, 2.5, 29.45105538),
    ]]
    fillet(fillet1_edges, radius=FILLET1_R)

    # CirPattern4: Cut-Extrude12 ×3 about axis
    cirpattern4_axis = Axis((0, 15.75, 0), (0, -1, 0))
    for i in range(1, CIRPATTERN4_COUNT):
        add(cut_extrude12.rotate(cirpattern4_axis, i * 360 / CIRPATTERN4_COUNT), mode=Mode.SUBTRACT)

    # Fillet1 of CirPattern4
    fillet1_of_cirpattern4_edges = [part.edges().sort_by_distance(p)[0] for p in [
        (-41.022985472, 2.5, 29.45105538),
        (-46.016854863, 2.5, 20.801419868),
        (-4.993869391, 2.5, -50.252475248),
        (4.993869391, 2.5, -50.252475248),
    ]]
    fillet(fillet1_of_cirpattern4_edges, radius=FILLET1_OF_CIRPATTERN4_R)


solid = part.part
